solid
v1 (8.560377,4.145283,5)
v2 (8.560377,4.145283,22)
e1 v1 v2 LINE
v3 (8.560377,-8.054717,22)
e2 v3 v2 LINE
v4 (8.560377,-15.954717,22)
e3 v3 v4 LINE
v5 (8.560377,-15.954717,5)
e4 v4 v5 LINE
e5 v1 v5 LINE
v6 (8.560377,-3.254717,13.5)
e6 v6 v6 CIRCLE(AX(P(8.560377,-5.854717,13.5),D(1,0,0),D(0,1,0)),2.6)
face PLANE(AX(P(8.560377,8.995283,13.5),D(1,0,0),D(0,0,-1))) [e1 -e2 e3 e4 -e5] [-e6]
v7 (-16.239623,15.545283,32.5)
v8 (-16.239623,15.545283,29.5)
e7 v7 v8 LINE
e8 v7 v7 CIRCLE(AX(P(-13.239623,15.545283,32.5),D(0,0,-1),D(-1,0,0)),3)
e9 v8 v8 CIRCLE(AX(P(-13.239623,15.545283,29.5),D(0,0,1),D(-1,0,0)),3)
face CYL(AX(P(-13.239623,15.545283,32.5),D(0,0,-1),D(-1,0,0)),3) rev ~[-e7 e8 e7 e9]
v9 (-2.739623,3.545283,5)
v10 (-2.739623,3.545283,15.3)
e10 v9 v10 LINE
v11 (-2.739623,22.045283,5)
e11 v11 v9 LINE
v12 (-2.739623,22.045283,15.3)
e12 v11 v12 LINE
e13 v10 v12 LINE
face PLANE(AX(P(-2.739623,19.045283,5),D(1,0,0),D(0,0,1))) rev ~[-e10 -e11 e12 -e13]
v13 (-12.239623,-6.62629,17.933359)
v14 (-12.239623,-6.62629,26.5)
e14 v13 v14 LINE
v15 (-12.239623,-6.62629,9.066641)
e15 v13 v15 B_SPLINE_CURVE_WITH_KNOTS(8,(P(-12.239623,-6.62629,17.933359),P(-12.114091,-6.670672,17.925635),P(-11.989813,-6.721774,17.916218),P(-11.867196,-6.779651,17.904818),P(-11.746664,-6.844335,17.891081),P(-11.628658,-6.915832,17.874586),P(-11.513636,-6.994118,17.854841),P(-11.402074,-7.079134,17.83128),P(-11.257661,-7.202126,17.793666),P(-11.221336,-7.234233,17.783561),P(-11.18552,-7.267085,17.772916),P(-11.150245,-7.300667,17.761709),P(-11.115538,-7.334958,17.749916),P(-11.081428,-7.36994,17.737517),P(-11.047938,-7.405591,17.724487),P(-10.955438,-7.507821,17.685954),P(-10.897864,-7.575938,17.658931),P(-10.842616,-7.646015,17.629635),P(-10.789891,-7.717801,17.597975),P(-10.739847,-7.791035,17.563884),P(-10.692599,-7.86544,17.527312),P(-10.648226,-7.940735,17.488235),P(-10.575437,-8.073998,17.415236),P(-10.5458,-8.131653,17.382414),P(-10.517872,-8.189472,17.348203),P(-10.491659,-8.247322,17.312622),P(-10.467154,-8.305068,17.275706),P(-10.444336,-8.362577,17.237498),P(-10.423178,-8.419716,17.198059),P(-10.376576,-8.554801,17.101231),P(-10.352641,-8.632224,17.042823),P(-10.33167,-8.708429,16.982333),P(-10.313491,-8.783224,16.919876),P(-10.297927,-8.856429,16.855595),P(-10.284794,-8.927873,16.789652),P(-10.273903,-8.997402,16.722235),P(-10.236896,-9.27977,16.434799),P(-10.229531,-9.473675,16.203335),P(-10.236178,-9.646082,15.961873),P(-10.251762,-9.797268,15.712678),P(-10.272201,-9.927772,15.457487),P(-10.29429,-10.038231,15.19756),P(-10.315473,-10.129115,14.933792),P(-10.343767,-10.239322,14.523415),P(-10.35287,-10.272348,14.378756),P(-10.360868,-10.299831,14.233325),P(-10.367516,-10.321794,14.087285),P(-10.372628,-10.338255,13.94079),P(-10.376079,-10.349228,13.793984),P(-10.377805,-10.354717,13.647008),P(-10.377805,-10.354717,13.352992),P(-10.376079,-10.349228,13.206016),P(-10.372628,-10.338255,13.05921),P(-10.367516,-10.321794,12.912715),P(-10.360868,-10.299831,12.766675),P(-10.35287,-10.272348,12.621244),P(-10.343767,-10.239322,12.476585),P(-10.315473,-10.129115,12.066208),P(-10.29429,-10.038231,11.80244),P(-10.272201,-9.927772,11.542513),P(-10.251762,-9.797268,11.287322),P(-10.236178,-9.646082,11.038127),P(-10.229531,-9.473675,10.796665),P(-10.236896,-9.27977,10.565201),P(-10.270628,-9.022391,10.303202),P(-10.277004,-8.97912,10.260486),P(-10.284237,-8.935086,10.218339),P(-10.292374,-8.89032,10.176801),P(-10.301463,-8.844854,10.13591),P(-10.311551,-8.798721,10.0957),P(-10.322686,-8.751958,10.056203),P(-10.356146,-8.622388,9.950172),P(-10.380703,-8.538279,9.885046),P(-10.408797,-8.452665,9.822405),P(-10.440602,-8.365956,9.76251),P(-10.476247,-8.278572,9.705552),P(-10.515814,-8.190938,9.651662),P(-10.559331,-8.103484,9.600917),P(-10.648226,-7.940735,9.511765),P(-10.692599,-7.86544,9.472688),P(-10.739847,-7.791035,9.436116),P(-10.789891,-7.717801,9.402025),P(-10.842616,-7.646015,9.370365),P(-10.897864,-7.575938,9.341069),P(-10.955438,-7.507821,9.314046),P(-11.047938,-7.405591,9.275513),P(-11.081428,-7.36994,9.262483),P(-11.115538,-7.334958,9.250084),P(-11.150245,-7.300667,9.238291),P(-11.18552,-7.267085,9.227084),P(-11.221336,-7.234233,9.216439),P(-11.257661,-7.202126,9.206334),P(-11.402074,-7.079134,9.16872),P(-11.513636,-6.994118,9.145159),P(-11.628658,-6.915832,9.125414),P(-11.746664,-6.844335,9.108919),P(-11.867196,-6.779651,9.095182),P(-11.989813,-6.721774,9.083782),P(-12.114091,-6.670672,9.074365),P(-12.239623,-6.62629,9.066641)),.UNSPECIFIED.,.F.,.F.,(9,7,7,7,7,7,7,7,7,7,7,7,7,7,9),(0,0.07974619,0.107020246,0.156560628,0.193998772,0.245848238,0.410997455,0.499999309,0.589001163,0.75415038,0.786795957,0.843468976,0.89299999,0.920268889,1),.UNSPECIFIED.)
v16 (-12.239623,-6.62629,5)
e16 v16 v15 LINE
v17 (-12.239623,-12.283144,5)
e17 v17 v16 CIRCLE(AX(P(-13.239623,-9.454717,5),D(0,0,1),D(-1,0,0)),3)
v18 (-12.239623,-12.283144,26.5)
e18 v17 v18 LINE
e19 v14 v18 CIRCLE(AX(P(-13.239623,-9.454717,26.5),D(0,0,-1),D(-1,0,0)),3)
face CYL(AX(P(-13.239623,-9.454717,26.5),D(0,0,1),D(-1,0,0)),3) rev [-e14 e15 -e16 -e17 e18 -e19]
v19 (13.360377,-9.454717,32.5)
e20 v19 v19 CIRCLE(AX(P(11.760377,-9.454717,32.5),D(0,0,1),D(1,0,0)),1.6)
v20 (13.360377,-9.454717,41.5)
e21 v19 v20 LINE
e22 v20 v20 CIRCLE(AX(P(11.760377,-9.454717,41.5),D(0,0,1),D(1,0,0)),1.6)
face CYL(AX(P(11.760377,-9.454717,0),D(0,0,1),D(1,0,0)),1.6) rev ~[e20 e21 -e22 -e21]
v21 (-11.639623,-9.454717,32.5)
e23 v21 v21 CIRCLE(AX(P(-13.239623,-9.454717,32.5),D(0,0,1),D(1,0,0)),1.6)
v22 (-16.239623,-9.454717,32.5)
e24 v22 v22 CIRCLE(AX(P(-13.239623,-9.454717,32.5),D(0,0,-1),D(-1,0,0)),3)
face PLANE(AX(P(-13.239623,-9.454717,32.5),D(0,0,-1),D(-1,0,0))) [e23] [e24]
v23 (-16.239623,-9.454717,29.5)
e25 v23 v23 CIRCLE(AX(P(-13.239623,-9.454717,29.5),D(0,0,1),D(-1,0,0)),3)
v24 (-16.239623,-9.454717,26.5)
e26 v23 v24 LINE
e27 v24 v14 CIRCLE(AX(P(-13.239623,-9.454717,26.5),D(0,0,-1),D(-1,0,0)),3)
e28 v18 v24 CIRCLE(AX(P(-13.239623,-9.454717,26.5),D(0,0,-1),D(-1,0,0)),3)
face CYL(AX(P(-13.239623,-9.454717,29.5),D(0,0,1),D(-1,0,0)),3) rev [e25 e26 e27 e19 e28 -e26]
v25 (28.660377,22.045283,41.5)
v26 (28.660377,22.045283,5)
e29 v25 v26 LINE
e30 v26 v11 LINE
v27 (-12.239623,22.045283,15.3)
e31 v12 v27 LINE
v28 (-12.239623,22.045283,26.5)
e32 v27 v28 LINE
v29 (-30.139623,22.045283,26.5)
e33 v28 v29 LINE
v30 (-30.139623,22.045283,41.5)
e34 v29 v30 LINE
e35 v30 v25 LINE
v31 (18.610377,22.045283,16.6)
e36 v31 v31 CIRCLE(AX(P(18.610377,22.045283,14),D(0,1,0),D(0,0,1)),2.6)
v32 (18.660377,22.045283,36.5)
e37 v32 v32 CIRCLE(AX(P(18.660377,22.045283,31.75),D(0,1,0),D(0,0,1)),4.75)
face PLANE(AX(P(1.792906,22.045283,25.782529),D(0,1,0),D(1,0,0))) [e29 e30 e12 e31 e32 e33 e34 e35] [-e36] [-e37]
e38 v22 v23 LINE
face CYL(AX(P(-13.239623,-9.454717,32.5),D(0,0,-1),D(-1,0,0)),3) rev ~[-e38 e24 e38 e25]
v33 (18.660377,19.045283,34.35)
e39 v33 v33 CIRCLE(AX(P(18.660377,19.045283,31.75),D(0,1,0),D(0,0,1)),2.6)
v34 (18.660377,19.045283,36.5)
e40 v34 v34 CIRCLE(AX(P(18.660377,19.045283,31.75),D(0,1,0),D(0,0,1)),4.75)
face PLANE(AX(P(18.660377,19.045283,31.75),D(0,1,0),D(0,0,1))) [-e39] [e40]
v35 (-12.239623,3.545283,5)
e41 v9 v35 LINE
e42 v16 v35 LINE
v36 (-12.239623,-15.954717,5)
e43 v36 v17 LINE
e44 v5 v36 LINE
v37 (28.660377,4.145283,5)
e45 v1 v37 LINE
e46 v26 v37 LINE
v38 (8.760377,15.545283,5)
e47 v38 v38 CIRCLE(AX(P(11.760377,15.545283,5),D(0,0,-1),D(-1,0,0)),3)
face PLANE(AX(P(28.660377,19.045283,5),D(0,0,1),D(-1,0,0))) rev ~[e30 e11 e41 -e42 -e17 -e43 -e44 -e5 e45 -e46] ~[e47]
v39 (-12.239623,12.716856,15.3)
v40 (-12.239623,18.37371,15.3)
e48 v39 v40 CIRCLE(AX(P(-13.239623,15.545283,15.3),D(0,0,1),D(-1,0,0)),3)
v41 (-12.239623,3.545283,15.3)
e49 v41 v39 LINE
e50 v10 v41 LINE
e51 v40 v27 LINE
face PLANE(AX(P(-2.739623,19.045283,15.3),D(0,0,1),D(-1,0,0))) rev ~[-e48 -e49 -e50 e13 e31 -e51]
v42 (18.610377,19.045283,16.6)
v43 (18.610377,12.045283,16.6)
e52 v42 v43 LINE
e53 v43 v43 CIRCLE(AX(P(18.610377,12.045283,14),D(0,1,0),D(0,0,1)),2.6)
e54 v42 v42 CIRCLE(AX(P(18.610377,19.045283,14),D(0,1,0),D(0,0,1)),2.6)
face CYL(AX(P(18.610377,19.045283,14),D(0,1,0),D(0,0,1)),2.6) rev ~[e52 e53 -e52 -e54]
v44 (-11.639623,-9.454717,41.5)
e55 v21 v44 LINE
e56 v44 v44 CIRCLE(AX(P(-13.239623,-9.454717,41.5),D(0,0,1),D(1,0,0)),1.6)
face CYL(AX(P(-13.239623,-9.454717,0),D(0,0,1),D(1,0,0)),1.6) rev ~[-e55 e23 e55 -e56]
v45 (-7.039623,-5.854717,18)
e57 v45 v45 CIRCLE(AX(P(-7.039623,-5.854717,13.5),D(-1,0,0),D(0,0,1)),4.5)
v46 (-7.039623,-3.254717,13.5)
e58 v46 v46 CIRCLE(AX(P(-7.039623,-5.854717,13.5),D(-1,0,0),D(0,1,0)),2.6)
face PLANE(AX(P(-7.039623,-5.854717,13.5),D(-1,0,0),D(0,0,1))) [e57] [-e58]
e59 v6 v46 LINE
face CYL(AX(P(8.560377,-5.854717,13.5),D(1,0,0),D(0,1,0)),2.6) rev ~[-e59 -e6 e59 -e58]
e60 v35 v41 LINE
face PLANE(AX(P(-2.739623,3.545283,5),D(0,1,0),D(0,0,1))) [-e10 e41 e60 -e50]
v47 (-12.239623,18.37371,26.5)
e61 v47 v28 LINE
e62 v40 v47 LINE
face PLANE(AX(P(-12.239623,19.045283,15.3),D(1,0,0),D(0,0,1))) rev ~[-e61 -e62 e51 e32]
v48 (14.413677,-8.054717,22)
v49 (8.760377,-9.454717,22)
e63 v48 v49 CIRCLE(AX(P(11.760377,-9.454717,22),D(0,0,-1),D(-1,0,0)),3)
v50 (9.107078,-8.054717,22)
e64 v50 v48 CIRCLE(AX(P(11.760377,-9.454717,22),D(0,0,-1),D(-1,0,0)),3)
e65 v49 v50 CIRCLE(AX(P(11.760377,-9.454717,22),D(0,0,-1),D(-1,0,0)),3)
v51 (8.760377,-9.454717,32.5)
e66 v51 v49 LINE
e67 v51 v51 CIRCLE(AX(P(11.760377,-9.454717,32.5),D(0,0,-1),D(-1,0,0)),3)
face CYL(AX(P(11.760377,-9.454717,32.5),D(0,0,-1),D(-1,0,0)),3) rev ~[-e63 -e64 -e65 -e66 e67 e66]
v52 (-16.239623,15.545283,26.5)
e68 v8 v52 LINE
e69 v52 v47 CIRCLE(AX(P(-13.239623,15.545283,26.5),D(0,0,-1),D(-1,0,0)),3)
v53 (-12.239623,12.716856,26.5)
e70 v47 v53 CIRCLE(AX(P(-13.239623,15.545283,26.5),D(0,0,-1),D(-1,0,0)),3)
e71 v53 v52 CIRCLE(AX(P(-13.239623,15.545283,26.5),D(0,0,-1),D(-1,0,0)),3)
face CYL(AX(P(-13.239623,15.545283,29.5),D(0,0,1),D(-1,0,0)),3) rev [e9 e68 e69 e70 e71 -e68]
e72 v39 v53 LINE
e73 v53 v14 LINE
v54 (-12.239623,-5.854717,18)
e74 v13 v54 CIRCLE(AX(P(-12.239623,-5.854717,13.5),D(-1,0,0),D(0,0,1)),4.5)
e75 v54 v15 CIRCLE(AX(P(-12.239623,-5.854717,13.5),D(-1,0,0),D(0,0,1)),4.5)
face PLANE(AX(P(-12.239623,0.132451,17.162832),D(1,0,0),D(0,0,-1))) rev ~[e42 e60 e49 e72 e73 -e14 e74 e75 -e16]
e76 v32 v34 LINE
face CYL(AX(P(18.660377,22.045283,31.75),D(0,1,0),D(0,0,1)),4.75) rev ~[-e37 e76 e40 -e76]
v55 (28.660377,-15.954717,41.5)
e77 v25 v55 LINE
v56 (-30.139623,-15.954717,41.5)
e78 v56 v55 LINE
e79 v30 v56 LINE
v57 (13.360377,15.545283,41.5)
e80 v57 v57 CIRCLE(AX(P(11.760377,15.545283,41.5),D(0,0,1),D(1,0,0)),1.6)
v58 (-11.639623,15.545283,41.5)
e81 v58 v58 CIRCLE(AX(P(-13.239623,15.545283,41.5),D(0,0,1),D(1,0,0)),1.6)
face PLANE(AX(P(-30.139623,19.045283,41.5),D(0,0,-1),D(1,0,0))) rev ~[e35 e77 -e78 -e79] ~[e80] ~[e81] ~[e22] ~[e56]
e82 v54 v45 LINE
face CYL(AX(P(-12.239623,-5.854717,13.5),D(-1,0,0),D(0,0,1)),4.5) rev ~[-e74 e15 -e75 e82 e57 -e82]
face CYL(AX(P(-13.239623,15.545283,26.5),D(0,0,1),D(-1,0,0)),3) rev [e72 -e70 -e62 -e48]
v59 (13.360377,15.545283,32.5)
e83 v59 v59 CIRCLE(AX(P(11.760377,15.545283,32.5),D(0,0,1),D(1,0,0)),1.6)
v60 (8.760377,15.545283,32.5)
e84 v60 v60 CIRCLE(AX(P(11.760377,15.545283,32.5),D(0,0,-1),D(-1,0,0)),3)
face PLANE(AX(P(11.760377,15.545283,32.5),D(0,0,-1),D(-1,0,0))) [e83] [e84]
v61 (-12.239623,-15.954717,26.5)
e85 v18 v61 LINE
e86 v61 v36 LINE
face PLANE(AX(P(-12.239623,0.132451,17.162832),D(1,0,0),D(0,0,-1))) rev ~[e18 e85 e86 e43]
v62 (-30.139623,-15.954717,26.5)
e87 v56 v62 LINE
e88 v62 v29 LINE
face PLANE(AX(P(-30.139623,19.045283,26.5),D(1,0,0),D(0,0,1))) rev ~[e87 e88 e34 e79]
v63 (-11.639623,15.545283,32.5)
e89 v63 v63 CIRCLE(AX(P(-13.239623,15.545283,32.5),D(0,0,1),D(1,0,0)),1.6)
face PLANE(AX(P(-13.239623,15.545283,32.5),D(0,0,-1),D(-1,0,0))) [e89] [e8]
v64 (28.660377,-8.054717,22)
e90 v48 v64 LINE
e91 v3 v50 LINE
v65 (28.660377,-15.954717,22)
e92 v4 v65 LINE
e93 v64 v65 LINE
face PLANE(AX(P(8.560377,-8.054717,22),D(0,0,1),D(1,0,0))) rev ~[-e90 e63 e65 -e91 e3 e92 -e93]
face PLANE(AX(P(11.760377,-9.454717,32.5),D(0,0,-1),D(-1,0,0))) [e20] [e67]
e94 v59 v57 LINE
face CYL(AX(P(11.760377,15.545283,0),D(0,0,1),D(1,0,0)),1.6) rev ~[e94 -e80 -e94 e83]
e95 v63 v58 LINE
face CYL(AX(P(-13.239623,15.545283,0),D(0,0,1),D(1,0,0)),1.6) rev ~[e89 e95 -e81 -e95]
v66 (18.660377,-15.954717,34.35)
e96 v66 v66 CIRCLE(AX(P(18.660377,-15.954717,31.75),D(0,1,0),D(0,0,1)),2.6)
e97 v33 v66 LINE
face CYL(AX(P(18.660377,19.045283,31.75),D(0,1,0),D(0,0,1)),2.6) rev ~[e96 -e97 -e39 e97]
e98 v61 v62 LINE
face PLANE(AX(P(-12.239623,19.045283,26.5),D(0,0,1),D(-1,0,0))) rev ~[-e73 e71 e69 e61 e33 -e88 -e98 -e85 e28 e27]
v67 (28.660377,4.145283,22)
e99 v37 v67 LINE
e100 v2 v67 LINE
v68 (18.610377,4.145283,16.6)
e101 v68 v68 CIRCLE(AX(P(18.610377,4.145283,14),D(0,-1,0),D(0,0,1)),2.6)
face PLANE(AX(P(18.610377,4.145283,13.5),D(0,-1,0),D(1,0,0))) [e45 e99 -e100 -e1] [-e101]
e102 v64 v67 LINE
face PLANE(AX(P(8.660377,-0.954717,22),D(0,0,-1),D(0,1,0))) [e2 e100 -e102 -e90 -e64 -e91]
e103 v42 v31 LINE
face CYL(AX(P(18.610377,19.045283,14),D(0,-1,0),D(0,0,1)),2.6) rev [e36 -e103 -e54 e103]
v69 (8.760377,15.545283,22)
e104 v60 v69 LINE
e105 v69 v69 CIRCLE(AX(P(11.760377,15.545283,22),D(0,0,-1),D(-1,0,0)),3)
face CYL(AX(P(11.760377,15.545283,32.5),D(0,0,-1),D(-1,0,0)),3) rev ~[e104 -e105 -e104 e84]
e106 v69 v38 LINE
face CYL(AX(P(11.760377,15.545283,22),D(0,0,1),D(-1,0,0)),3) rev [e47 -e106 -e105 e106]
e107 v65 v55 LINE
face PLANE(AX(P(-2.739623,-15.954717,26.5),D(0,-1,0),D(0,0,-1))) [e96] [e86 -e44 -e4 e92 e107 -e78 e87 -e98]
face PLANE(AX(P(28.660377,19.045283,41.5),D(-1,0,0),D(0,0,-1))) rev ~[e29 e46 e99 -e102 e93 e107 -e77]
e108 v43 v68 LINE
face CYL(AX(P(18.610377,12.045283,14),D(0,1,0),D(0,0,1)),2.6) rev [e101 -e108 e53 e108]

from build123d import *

# Parameters (mm, degrees)
SKETCH_1_W                = 58.8
SKETCH_1_H                = 32
EXTRUDE_1_DEPTH           = 41.5
HOLE_WIZARD_1_D           = 3.2
HOLE_WIZARD_1_CBORE_D     = 6
HOLE_WIZARD_1_CBORE_DEPTH = 32.5
SKETCH_8_R                = 2.6
CUT_EXTRUDE_6_DEPTH       = 33.5
SKETCH_10_W               = 58.8
SKETCH_10_H               = 41.5
EXTRUDE_2_DEPTH           = 3
SKETCH_20_W               = 20
SKETCH_20_H               = 20
SKETCH_20_R               = 3
CUT_EXTRUDE_16_DEPTH      = 22
SKETCH_21_R               = 2.6
CUT_EXTRUDE_17_DEPTH      = 63.093855195
SKETCH_22_W               = 22
SKETCH_22_H               = 20
CUT_EXTRUDE_18_DEPTH      = 0.1
SKETCH_23_W               = 20.1
SKETCH_23_H               = 22
CUT_EXTRUDE_19_DEPTH      = 0.1
SKETCH_24_R               = 2.6
CUT_EXTRUDE_20_DEPTH      = 56.08771962
SKETCH_25_W               = 21.4
SKETCH_25_H               = 23.5
CUT_EXTRUDE_21_DEPTH      = 35
SKETCH_26_W               = 21.4
SKETCH_26_H               = 20
SKETCH_26_R               = 3
CUT_EXTRUDE_22_DEPTH      = 27
SKETCH_27_R               = 3
EXTRUDE_3_DEPTH           = 6
CHAMFER_1_SIZE            = 10
FILLET_1_R                = 5
CUT_EXTRUDE_30_DEPTH      = 5
SKETCH_36_R               = 2.6
CUT_EXTRUDE_31_DEPTH      = 60.855349011
SKETCH_37_R               = 2.6
EXTRUDE_6_DEPTH           = 3
SKETCH_38_W               = 19.040158201
SKETCH_38_H               = 15.764200478
CUT_EXTRUDE_32_DEPTH      = 3
SKETCH_39_W               = 5.883083502
SKETCH_39_H               = 11.158232545
CUT_EXTRUDE_33_DEPTH      = 9
SKETCH_40_W               = 9
SKETCH_40_H               = 11.158232545
CUT_EXTRUDE_34_DEPTH      = 4
CUT_EXTRUDE_35_DEPTH      = 14
CUT_EXTRUDE_37_DEPTH      = 5
CUT_EXTRUDE_38_DEPTH      = 9
SKETCH_44_W               = 27.4
SKETCH_44_H               = 35
SKETCH_44_R               = 3
EXTRUDE_7_DEPTH           = 3
SKETCH_45_R               = 1.5
CUT_EXTRUDE_39_DEPTH      = 6
SKETCH_47_R               = 1.5
CUT_EXTRUDE_41_DEPTH      = 6
SKETCH_48_R               = 2.6
CUT_EXTRUDE_42_DEPTH      = 63.093855195
SKETCH_49_R               = 2.6
EXTRUDE_8_DEPTH           = 35
SKETCH_50_W               = 20.1
SKETCH_50_H               = 17
CUT_EXTRUDE_43_DEPTH      = 7
SKETCH_51_R               = 6.4
EXTRUDE_9_DEPTH           = 5
SKETCH_52_R               = 2.6
EXTRUDE_10_DEPTH          = 6.3
SKETCH_55_W               = 20.1
SKETCH_55_H               = 7
SKETCH_55_R               = 3
EXTRUDE_11_DEPTH          = 17
SKETCH_56_R               = 2.6
CUT_EXTRUDE_46_DEPTH      = 63.093855195
SKETCH_57_W               = 20.1
SKETCH_57_H               = 17
SKETCH_57_R               = 2.6
EXTRUDE_12_DEPTH          = 7.9
SKETCH_58_W               = 20.1
SKETCH_58_H               = 17
CUT_EXTRUDE_47_DEPTH      = 7.9
SKETCH_59_R               = 1.5
EXTRUDE_13_DEPTH          = 6
SKETCH_60_R               = 1.5
EXTRUDE_14_DEPTH          = 11.3
EXTRUDE_15_DEPTH          = 9.5
SKETCH_62_R               = 2.6
CUT_EXTRUDE_48_DEPTH      = 60.855349011
SKETCH_65_R               = 4.5
SKETCH_65_R_2             = 2.6
CUT_EXTRUDE_50_DEPTH      = 5.2
SKETCH_66_R               = 3
CUT_EXTRUDE_51_DEPTH      = 42.633756235
SKETCH_67_R               = 3
CUT_EXTRUDE_52_DEPTH      = 42.633756287
SKETCH_68_R               = 2.6
EXTRUDE_16_DEPTH          = 3
SKETCH_69_R               = 4.75
CUT_EXTRUDE_53_DEPTH      = 3


with BuildPart() as part:
    # 草图1 → 凸台-拉伸1 (new body)
    with BuildSketch(Plane.XY):
        with Locations((-0.739622642, 3.045283019)):
            Rectangle(SKETCH_1_W, SKETCH_1_H)
    extrude(amount=EXTRUDE_1_DEPTH)

    # 孔1 (through all)
    with Locations(Plane(origin=(11.760377358, 15.545283019, 0), x_dir=(-1, 0, 0), z_dir=(0, 0, -1))):
        with Locations((0, 0), (25, 0), (25, -25), (0, -25)):
            CounterBoreHole(HOLE_WIZARD_1_D / 2, HOLE_WIZARD_1_CBORE_D / 2, HOLE_WIZARD_1_CBORE_DEPTH)

    # 草图8 → 切除-拉伸6 (cut)
    with BuildSketch(Plane(origin=(0, 19.045283019, 0), x_dir=(1, 0, 0), z_dir=(0, 1, 0))):
        with Locations(Location((-0.739622642, -31.5, 0), (0, 0, 270))):
            Circle(SKETCH_8_R)
    extrude(amount=-CUT_EXTRUDE_6_DEPTH, mode=Mode.SUBTRACT)

    # 草图10 → 凸台-拉伸2 (add)
    with BuildSketch(Plane.XZ.offset(12.954716981)):
        with Locations((-0.739622642, 20.75)):
            Rectangle(SKETCH_10_W, SKETCH_10_H)
    extrude(amount=EXTRUDE_2_DEPTH)

    # 草图20 → 切除-拉伸16 (cut)
    with BuildSketch(Plane(origin=(0, 0, 0), x_dir=(-1, 0, 0), z_dir=(0, 0, -1))):
        with Locations((-18.660377358, 9.045283019)):
            Rectangle(SKETCH_20_W, SKETCH_20_H)
        with Locations((-11.760377358, 15.545283019)):
            Circle(SKETCH_20_R, mode=Mode.SUBTRACT)
    extrude(amount=-CUT_EXTRUDE_16_DEPTH, mode=Mode.SUBTRACT)

    # 草图21 → 切除-拉伸17 (cut, through all)
    with BuildSketch(Plane(origin=(0, 19.045283019, 0), x_dir=(1, 0, 0), z_dir=(0, 1, 0))):
        with Locations(Location((-0.739622642, -31.5, 0), (0, 0, 270))):
            Circle(SKETCH_21_R)
    extrude(amount=-CUT_EXTRUDE_17_DEPTH, mode=Mode.SUBTRACT)

    # 草图22 → 切除-拉伸18 (cut)
    with BuildSketch(Plane(origin=(8.660377358, 0, 0), x_dir=(0, 0, -1), z_dir=(1, 0, 0))):
        with Locations((-11, 9.045283019)):
            Rectangle(SKETCH_22_W, SKETCH_22_H)
    extrude(amount=-CUT_EXTRUDE_18_DEPTH, mode=Mode.SUBTRACT)

    # 草图23 → 切除-拉伸19 (cut)
    with BuildSketch(Plane(origin=(0, -0.954716981, 0), x_dir=(1, 0, 0), z_dir=(0, 1, 0))):
        with Locations((18.610377358, -11)):
            Rectangle(SKETCH_23_W, SKETCH_23_H)
    extrude(amount=-CUT_EXTRUDE_19_DEPTH, mode=Mode.SUBTRACT)

    # 草图24 → 切除-拉伸20 (cut, through all)
    with BuildSketch(Plane(origin=(0, -1.054716981, 0), x_dir=(1, 0, 0), z_dir=(0, 1, 0))):
        with Locations(Location((18.610377358, -14, 0), (0, 0, 270))):
            Circle(SKETCH_24_R)
    extrude(amount=-CUT_EXTRUDE_20_DEPTH, mode=Mode.SUBTRACT)

    # 草图25 → 切除-拉伸21 (cut)
    with BuildSketch(Plane(origin=(0, 19.045283019, 0), x_dir=(1, 0, 0), z_dir=(0, 1, 0))):
        with Locations((-19.439622642, -17.75)):
            Rectangle(SKETCH_25_W, SKETCH_25_H)
    extrude(amount=-CUT_EXTRUDE_21_DEPTH, mode=Mode.SUBTRACT)

    # 草图26 → 切除-拉伸22 (cut)
    with BuildSketch(Plane(origin=(0, 0, 0), x_dir=(-1, 0, 0), z_dir=(0, 0, -1))):
        with Locations((19.439622642, -5.954716981)):
            Rectangle(SKETCH_26_W, SKETCH_26_H)
        with Locations((13.239622642, -9.454716981)):
            Circle(SKETCH_26_R, mode=Mode.SUBTRACT)
    extrude(amount=-CUT_EXTRUDE_22_DEPTH, mode=Mode.SUBTRACT)

    # 草图27 → 凸台-拉伸3 (add, through all)
    with BuildSketch(Plane.XY.offset(6)):
        with Locations(Location((-13.239622642, 15.545283019, 0), (0, 0, 180))):
            Circle(SKETCH_27_R)
    extrude(amount=-EXTRUDE_3_DEPTH)

    # 倒角1
    chamfer_1_edges = [part.edges().sort_by_distance(p)[0] for p in [
        (-30.139622642, 19.045283019, 3),
    ]]
    chamfer(chamfer_1_edges, length=CHAMFER_1_SIZE)

    # 圆角1
    fillet_1_edges = [part.edges().sort_by_distance(p)[0] for p in [
        (-30.139622642, 9.045283019, 3),
        (-20.139622642, 19.045283019, 3),
    ]]
    fillet(fillet_1_edges, radius=FILLET_1_R)

    # 草图35 → 切除-拉伸30 (cut)
    with BuildSketch(Plane(origin=(0, 0, 0), x_dir=(-1, 0, 0), z_dir=(0, 0, -1))):
        with BuildLine():
            Line((30.139622642, 4.045283019), (30.139622642, 6.974215207))
            ThreePointArc((30.139622642, 6.974215207), (29.759020304, 8.887632369), (28.675156547, 10.509749113))
            Line((28.675156547, 10.509749113), (21.604088736, 17.580816925))
            ThreePointArc((21.604088736, 17.580816925), (19.981971991, 18.664680681), (18.06855483, 19.045283019))
            Line((18.06855483, 19.045283019), (-8.560377358, 19.045283019))
            Line((-8.560377358, 19.045283019), (-8.560377358, -1.054716981))
            Line((-8.560377358, -1.054716981), (-28.660377358, -1.054716981))
            Line((-28.660377358, -1.054716981), (-28.660377358, -15.954716981))
            Line((-28.660377358, -15.954716981), (8.739622642, -15.954716981))
            Line((8.739622642, -15.954716981), (8.739622642, 4.045283019))
            Line((8.739622642, 4.045283019), (30.139622642, 4.045283019))
        make_face()
    extrude(amount=-CUT_EXTRUDE_30_DEPTH, mode=Mode.SUBTRACT)

    # 草图36 → 切除-拉伸31 (cut, through all)
    with BuildSketch(Plane(origin=(8.560377358, 0, 0), x_dir=(0, 0, -1), z_dir=(1, 0, 0))):
        with Locations(Location((-13.5, 8.995283019, 0), (0, 0, 90))):
            Circle(SKETCH_36_R)
    extrude(amount=-CUT_EXTRUDE_31_DEPTH, mode=Mode.SUBTRACT)

    # 草图37 → 凸台-拉伸6 (add)
    with BuildSketch(Plane.ZY.offset(8.739622642)):
        Polygon((5, 4.045283019), (5, -15.954716981), (29.5, -15.954716981), (29.5, 19.045283019), (6, 19.045283019), (6, 4.045283019), align=None)
        with Locations(Location((13.5, 8.995283019, 0), (0, 0, 90))):
            Circle(SKETCH_37_R, mode=Mode.SUBTRACT)
    extrude(amount=EXTRUDE_6_DEPTH)

    # 草图38 → 切除-拉伸32 (cut)
    with BuildSketch(Plane(origin=(0, 0, 5), x_dir=(-1, 0, 0), z_dir=(0, 0, -1))):
        with Locations((21.259701742, 11.927383258)):
            Rectangle(SKETCH_38_W, SKETCH_38_H)
    extrude(amount=-CUT_EXTRUDE_32_DEPTH, mode=Mode.SUBTRACT)

    # 草图39 → 切除-拉伸33 (cut)
    with BuildSketch(Plane.ZY.offset(11.739622642)):
        with Locations((7.941541751, 13.466166747)):
            Rectangle(SKETCH_39_W, SKETCH_39_H)
    extrude(amount=-CUT_EXTRUDE_33_DEPTH, mode=Mode.SUBTRACT)

    # 草图40 → 切除-拉伸34 (cut)
    with BuildSketch(Plane(origin=(0, 0, 10.883083502), x_dir=(-1, 0, 0), z_dir=(0, 0, -1))):
        with Locations((7.239622642, 13.466166747)):
            Rectangle(SKETCH_40_W, SKETCH_40_H)
    extrude(amount=-CUT_EXTRUDE_34_DEPTH, mode=Mode.SUBTRACT)

    # 草图41 → 切除-拉伸35 (cut)
    with BuildSketch(Plane.ZY.offset(11.739622642)):
        with BuildLine():
            ThreePointArc((16.1, 8.995283019), (15.338477631, 7.156805388), (13.5, 6.395283019))
            ThreePointArc((13.5, 6.395283019), (12.107413309, 6.799673238), (11.148017724, 7.887050474))
            Line((11.148017724, 7.887050474), (7.196681777, 7.887050474))
            ThreePointArc((7.196681777, 7.887050474), (17.925328842, 4.371814122), (14.883083502, 15.244049299))
            Line((14.883083502, 15.244049299), (14.883083502, 11.196891528))
            ThreePointArc((14.883083502, 11.196891528), (15.775523797, 10.253055434), (16.1, 8.995283019))
        make_face()
    extrude(amount=-CUT_EXTRUDE_35_DEPTH, mode=Mode.SUBTRACT)

    # 草图42 → 切除-拉伸37 (cut)
    with BuildSketch(Plane.ZY.offset(2.739622642)):
        with BuildLine():
            ThreePointArc((14.883083502, 15.244049299), (9.074671158, 13.618751916), (7.196681777, 7.887050474))
            Line((7.196681777, 7.887050474), (11.148017724, 7.887050474))
            ThreePointArc((11.148017724, 7.887050474), (11.775629634, 10.941188166), (14.883083502, 11.196891528))
            Line((14.883083502, 11.196891528), (14.883083502, 15.244049299))
        make_face()
    extrude(amount=-CUT_EXTRUDE_37_DEPTH, mode=Mode.SUBTRACT)

    # 草图43 → 切除-拉伸38 (cut)
    with BuildSketch(Plane.ZY.offset(11.739622642)):
        with BuildLine():
            Line((14.883083502, 19.045283019), (14.883083502, 15.244049299))
            ThreePointArc((14.883083502, 15.244049299), (17.925328842, 4.371814122), (7.196681777, 7.887050474))
            Line((7.196681777, 7.887050474), (5, 7.887050474))
            Line((5, 7.887050474), (5, -15.954716981))
            Line((5, -15.954716981), (29.5, -15.954716981))
            Line((29.5, -15.954716981), (29.5, -12.052793192))
            Line((29.5, -12.052793192), (29.5, -6.85664077))
            Line((29.5, -6.85664077), (29.5, 12.947206808))
            Line((29.5, 12.947206808), (29.5, 18.14335923))
            Line((29.5, 18.14335923), (29.5, 19.045283019))
            Line((29.5, 19.045283019), (14.883083502, 19.045283019))
        make_face()
    extrude(amount=-CUT_EXTRUDE_38_DEPTH, mode=Mode.SUBTRACT)

    # 草图44 → 凸台-拉伸7 (add)
    with BuildSketch(Plane(origin=(0, 0, 29.5), x_dir=(-1, 0, 0), z_dir=(0, 0, -1))):
        with Locations((16.439622642, 1.545283019)):
            Rectangle(SKETCH_44_W, SKETCH_44_H)
        with Locations((13.239622642, 15.545283019)):
            Circle(SKETCH_44_R, mode=Mode.SUBTRACT)
        with Locations((13.239622642, -9.454716981)):
            Circle(SKETCH_44_R, mode=Mode.SUBTRACT)
    extrude(amount=EXTRUDE_7_DEPTH)

    # 草图45 → 切除-拉伸39 (cut)
    with BuildSketch(Plane.ZY.offset(2.739622642)):
        with Locations((22, 12.225283019)):
            Circle(SKETCH_45_R)
    extrude(amount=-CUT_EXTRUDE_39_DEPTH, mode=Mode.SUBTRACT)

    # 草图47 → 切除-拉伸41 (cut)
    with BuildSketch(Plane.ZY.offset(2.739622642)):
        with Locations((15.75, -7.954716981)):
            Circle(SKETCH_47_R)
    extrude(amount=-CUT_EXTRUDE_41_DEPTH, mode=Mode.SUBTRACT)

    # 草图48 → 切除-拉伸42 (cut, through all)
    with BuildSketch(Plane(origin=(0, 19.045283019, 0), x_dir=(1, 0, 0), z_dir=(0, 1, 0))):
        with Locations(Location((18.660377358, -31.75, 0), (0, 0, 270))):
            Circle(SKETCH_48_R)
    extrude(amount=-CUT_EXTRUDE_42_DEPTH, mode=Mode.SUBTRACT)

    # 草图49 → 凸台-拉伸8 (add, through all)
    with BuildSketch(Plane(origin=(0, 19.045283019, 0), x_dir=(1, 0, 0), z_dir=(0, 1, 0))):
        with Locations((-0.739622642, -31.5)):
            Circle(SKETCH_49_R)
    extrude(amount=-EXTRUDE_8_DEPTH)

    # 草图50 → 切除-拉伸43 (cut)
    with BuildSketch(Plane(origin=(0, -1.054716981, 0), x_dir=(1, 0, 0), z_dir=(0, 1, 0))):
        with Locations((18.610377358, -13.5)):
            Rectangle(SKETCH_50_W, SKETCH_50_H)
    extrude(amount=-CUT_EXTRUDE_43_DEPTH, mode=Mode.SUBTRACT)

    # 草图51 → 凸台-拉伸9 (add)
    with BuildSketch(Plane.ZY.offset(-2.260377358)):
        with Locations((13.5, 8.995283019)):
            Circle(SKETCH_51_R)
    extrude(amount=EXTRUDE_9_DEPTH)

    # 草图52 → 凸台-拉伸10 (add)
    with BuildSketch(Plane(origin=(2.260377358, 0, 0), x_dir=(0, 0, -1), z_dir=(1, 0, 0))):
        with Locations((-13.5, 8.995283019)):
            Circle(SKETCH_52_R)
    extrude(amount=EXTRUDE_10_DEPTH)

    # 草图55 → 凸台-拉伸11 (add)
    with BuildSketch(Plane(origin=(0, 0, 22), x_dir=(-1, 0, 0), z_dir=(0, 0, -1))):
        with Locations((-18.610377358, 15.545283019)):
            Rectangle(SKETCH_55_W, SKETCH_55_H)
        with Locations((-11.760377358, 15.545283019)):
            Circle(SKETCH_55_R, mode=Mode.SUBTRACT)
    extrude(amount=EXTRUDE_11_DEPTH)

    # 草图56 → 切除-拉伸46 (cut, through all)
    with BuildSketch(Plane(origin=(0, 19.045283019, 0), x_dir=(1, 0, 0), z_dir=(0, 1, 0))):
        with Locations(Location((18.610377358, -14, 0), (0, 0, 270))):
            Circle(SKETCH_56_R)
    extrude(amount=-CUT_EXTRUDE_46_DEPTH, mode=Mode.SUBTRACT)

    # 草图57 → 凸台-拉伸12 (add)
    with BuildSketch(Plane.XZ.offset(-12.045283019)):
        with Locations((18.610377358, 13.5)):
            Rectangle(SKETCH_57_W, SKETCH_57_H)
        with Locations(Location((18.610377358, 14, 0), (0, 0, 90))):
            Circle(SKETCH_57_R, mode=Mode.SUBTRACT)
    extrude(amount=EXTRUDE_12_DEPTH)

    # 草图58 → 切除-拉伸47 (cut)
    with BuildSketch(Plane(origin=(0, -8.054716981, 0), x_dir=(1, 0, 0), z_dir=(0, 1, 0))):
        with Locations((18.610377358, -13.5)):
            Rectangle(SKETCH_58_W, SKETCH_58_H)
    extrude(amount=-CUT_EXTRUDE_47_DEPTH, mode=Mode.SUBTRACT)

    # 草图59 → 凸台-拉伸13 (add)
    with BuildSketch(Plane.ZY.offset(-3.260377358)):
        with Locations((15.75, -7.954716981)):
            Circle(SKETCH_59_R)
    extrude(amount=EXTRUDE_13_DEPTH)

    # 草图60 → 凸台-拉伸14 (add)
    with BuildSketch(Plane(origin=(8.560377358, 0, 0), x_dir=(0, 0, -1), z_dir=(1, 0, 0))):
        with Locations((-22, 12.225283019)):
            Circle(SKETCH_60_R)
    extrude(amount=-EXTRUDE_14_DEPTH)

    # 草图61 → 凸台-拉伸15 (add)
    with BuildSketch(Plane.ZY.offset(2.739622642)):
        Polygon((5, 3.545283019), (15.3, 3.545283019), (15.3, 19.045283019), (26.5, 19.045283019), (26.5, -15.954716981), (5, -15.954716981), align=None)
    extrude(amount=EXTRUDE_15_DEPTH)

    # 草图62 → 切除-拉伸48 (cut, through all)
    with BuildSketch(Plane(origin=(8.560377358, 0, 0), x_dir=(0, 0, -1), z_dir=(1, 0, 0))):
        with Locations(Location((-13.5, -5.854716981, 0), (0, 0, 90))):
            Circle(SKETCH_62_R)
    extrude(amount=-CUT_EXTRUDE_48_DEPTH, mode=Mode.SUBTRACT)

    # 草图65 → 切除-拉伸50 (cut)
    with BuildSketch(Plane.ZY.offset(12.239622642)):
        with Locations((13.5, -5.854716981)):
            Circle(SKETCH_65_R)
        with Locations(Location((13.5, -5.854716981, 0), (0, 0, 90))):
            Circle(SKETCH_65_R_2, mode=Mode.SUBTRACT)
    extrude(amount=-CUT_EXTRUDE_50_DEPTH, mode=Mode.SUBTRACT)

    # 草图66 → 切除-拉伸51 (cut, through all)
    with BuildSketch(Plane(origin=(0, 0, 26.5), x_dir=(-1, 0, 0), z_dir=(0, 0, -1))):
        with Locations((13.239622642, -9.454716981)):
            Circle(SKETCH_66_R)
    extrude(amount=CUT_EXTRUDE_51_DEPTH, mode=Mode.SUBTRACT)

    # 草图67 → 切除-拉伸52 (cut, through all)
    with BuildSketch(Plane(origin=(0, 0, 26.5), x_dir=(-1, 0, 0), z_dir=(0, 0, -1))):
        with Locations((13.239622642, 15.545283019)):
            Circle(SKETCH_67_R)
    extrude(amount=CUT_EXTRUDE_52_DEPTH, mode=Mode.SUBTRACT)

    # 草图68 → 凸台-拉伸16 (add)
    with BuildSketch(Plane(origin=(0, 19.045283019, 0), x_dir=(1, 0, 0), z_dir=(0, 1, 0))):
        Polygon((-2.739622642, -5), (-2.739622642, -15.3), (-12.239622642, -15.3), (-12.239622642, -26.5), (-30.139622642, -26.5), (-30.139622642, -41.5), (28.660377358, -41.5), (28.660377358, -5), align=None)
        with Locations(Location((18.610377358, -14, 0), (0, 0, 270))):
            Circle(SKETCH_68_R, mode=Mode.SUBTRACT)
        with Locations(Location((18.660377358, -31.75, 0), (0, 0, 270))):
            Circle(SKETCH_68_R, mode=Mode.SUBTRACT)
    extrude(amount=EXTRUDE_16_DEPTH)

    # 草图69 → 切除-拉伸53 (cut)
    with BuildSketch(Plane(origin=(0, 22.045283019, 0), x_dir=(1, 0, 0), z_dir=(0, 1, 0))):
        with Locations(Location((18.660377358, -31.75, 0), (0, 0, 270))):
            Circle(SKETCH_69_R)
    extrude(amount=-CUT_EXTRUDE_53_DEPTH, mode=Mode.SUBTRACT)


solid = part.part
